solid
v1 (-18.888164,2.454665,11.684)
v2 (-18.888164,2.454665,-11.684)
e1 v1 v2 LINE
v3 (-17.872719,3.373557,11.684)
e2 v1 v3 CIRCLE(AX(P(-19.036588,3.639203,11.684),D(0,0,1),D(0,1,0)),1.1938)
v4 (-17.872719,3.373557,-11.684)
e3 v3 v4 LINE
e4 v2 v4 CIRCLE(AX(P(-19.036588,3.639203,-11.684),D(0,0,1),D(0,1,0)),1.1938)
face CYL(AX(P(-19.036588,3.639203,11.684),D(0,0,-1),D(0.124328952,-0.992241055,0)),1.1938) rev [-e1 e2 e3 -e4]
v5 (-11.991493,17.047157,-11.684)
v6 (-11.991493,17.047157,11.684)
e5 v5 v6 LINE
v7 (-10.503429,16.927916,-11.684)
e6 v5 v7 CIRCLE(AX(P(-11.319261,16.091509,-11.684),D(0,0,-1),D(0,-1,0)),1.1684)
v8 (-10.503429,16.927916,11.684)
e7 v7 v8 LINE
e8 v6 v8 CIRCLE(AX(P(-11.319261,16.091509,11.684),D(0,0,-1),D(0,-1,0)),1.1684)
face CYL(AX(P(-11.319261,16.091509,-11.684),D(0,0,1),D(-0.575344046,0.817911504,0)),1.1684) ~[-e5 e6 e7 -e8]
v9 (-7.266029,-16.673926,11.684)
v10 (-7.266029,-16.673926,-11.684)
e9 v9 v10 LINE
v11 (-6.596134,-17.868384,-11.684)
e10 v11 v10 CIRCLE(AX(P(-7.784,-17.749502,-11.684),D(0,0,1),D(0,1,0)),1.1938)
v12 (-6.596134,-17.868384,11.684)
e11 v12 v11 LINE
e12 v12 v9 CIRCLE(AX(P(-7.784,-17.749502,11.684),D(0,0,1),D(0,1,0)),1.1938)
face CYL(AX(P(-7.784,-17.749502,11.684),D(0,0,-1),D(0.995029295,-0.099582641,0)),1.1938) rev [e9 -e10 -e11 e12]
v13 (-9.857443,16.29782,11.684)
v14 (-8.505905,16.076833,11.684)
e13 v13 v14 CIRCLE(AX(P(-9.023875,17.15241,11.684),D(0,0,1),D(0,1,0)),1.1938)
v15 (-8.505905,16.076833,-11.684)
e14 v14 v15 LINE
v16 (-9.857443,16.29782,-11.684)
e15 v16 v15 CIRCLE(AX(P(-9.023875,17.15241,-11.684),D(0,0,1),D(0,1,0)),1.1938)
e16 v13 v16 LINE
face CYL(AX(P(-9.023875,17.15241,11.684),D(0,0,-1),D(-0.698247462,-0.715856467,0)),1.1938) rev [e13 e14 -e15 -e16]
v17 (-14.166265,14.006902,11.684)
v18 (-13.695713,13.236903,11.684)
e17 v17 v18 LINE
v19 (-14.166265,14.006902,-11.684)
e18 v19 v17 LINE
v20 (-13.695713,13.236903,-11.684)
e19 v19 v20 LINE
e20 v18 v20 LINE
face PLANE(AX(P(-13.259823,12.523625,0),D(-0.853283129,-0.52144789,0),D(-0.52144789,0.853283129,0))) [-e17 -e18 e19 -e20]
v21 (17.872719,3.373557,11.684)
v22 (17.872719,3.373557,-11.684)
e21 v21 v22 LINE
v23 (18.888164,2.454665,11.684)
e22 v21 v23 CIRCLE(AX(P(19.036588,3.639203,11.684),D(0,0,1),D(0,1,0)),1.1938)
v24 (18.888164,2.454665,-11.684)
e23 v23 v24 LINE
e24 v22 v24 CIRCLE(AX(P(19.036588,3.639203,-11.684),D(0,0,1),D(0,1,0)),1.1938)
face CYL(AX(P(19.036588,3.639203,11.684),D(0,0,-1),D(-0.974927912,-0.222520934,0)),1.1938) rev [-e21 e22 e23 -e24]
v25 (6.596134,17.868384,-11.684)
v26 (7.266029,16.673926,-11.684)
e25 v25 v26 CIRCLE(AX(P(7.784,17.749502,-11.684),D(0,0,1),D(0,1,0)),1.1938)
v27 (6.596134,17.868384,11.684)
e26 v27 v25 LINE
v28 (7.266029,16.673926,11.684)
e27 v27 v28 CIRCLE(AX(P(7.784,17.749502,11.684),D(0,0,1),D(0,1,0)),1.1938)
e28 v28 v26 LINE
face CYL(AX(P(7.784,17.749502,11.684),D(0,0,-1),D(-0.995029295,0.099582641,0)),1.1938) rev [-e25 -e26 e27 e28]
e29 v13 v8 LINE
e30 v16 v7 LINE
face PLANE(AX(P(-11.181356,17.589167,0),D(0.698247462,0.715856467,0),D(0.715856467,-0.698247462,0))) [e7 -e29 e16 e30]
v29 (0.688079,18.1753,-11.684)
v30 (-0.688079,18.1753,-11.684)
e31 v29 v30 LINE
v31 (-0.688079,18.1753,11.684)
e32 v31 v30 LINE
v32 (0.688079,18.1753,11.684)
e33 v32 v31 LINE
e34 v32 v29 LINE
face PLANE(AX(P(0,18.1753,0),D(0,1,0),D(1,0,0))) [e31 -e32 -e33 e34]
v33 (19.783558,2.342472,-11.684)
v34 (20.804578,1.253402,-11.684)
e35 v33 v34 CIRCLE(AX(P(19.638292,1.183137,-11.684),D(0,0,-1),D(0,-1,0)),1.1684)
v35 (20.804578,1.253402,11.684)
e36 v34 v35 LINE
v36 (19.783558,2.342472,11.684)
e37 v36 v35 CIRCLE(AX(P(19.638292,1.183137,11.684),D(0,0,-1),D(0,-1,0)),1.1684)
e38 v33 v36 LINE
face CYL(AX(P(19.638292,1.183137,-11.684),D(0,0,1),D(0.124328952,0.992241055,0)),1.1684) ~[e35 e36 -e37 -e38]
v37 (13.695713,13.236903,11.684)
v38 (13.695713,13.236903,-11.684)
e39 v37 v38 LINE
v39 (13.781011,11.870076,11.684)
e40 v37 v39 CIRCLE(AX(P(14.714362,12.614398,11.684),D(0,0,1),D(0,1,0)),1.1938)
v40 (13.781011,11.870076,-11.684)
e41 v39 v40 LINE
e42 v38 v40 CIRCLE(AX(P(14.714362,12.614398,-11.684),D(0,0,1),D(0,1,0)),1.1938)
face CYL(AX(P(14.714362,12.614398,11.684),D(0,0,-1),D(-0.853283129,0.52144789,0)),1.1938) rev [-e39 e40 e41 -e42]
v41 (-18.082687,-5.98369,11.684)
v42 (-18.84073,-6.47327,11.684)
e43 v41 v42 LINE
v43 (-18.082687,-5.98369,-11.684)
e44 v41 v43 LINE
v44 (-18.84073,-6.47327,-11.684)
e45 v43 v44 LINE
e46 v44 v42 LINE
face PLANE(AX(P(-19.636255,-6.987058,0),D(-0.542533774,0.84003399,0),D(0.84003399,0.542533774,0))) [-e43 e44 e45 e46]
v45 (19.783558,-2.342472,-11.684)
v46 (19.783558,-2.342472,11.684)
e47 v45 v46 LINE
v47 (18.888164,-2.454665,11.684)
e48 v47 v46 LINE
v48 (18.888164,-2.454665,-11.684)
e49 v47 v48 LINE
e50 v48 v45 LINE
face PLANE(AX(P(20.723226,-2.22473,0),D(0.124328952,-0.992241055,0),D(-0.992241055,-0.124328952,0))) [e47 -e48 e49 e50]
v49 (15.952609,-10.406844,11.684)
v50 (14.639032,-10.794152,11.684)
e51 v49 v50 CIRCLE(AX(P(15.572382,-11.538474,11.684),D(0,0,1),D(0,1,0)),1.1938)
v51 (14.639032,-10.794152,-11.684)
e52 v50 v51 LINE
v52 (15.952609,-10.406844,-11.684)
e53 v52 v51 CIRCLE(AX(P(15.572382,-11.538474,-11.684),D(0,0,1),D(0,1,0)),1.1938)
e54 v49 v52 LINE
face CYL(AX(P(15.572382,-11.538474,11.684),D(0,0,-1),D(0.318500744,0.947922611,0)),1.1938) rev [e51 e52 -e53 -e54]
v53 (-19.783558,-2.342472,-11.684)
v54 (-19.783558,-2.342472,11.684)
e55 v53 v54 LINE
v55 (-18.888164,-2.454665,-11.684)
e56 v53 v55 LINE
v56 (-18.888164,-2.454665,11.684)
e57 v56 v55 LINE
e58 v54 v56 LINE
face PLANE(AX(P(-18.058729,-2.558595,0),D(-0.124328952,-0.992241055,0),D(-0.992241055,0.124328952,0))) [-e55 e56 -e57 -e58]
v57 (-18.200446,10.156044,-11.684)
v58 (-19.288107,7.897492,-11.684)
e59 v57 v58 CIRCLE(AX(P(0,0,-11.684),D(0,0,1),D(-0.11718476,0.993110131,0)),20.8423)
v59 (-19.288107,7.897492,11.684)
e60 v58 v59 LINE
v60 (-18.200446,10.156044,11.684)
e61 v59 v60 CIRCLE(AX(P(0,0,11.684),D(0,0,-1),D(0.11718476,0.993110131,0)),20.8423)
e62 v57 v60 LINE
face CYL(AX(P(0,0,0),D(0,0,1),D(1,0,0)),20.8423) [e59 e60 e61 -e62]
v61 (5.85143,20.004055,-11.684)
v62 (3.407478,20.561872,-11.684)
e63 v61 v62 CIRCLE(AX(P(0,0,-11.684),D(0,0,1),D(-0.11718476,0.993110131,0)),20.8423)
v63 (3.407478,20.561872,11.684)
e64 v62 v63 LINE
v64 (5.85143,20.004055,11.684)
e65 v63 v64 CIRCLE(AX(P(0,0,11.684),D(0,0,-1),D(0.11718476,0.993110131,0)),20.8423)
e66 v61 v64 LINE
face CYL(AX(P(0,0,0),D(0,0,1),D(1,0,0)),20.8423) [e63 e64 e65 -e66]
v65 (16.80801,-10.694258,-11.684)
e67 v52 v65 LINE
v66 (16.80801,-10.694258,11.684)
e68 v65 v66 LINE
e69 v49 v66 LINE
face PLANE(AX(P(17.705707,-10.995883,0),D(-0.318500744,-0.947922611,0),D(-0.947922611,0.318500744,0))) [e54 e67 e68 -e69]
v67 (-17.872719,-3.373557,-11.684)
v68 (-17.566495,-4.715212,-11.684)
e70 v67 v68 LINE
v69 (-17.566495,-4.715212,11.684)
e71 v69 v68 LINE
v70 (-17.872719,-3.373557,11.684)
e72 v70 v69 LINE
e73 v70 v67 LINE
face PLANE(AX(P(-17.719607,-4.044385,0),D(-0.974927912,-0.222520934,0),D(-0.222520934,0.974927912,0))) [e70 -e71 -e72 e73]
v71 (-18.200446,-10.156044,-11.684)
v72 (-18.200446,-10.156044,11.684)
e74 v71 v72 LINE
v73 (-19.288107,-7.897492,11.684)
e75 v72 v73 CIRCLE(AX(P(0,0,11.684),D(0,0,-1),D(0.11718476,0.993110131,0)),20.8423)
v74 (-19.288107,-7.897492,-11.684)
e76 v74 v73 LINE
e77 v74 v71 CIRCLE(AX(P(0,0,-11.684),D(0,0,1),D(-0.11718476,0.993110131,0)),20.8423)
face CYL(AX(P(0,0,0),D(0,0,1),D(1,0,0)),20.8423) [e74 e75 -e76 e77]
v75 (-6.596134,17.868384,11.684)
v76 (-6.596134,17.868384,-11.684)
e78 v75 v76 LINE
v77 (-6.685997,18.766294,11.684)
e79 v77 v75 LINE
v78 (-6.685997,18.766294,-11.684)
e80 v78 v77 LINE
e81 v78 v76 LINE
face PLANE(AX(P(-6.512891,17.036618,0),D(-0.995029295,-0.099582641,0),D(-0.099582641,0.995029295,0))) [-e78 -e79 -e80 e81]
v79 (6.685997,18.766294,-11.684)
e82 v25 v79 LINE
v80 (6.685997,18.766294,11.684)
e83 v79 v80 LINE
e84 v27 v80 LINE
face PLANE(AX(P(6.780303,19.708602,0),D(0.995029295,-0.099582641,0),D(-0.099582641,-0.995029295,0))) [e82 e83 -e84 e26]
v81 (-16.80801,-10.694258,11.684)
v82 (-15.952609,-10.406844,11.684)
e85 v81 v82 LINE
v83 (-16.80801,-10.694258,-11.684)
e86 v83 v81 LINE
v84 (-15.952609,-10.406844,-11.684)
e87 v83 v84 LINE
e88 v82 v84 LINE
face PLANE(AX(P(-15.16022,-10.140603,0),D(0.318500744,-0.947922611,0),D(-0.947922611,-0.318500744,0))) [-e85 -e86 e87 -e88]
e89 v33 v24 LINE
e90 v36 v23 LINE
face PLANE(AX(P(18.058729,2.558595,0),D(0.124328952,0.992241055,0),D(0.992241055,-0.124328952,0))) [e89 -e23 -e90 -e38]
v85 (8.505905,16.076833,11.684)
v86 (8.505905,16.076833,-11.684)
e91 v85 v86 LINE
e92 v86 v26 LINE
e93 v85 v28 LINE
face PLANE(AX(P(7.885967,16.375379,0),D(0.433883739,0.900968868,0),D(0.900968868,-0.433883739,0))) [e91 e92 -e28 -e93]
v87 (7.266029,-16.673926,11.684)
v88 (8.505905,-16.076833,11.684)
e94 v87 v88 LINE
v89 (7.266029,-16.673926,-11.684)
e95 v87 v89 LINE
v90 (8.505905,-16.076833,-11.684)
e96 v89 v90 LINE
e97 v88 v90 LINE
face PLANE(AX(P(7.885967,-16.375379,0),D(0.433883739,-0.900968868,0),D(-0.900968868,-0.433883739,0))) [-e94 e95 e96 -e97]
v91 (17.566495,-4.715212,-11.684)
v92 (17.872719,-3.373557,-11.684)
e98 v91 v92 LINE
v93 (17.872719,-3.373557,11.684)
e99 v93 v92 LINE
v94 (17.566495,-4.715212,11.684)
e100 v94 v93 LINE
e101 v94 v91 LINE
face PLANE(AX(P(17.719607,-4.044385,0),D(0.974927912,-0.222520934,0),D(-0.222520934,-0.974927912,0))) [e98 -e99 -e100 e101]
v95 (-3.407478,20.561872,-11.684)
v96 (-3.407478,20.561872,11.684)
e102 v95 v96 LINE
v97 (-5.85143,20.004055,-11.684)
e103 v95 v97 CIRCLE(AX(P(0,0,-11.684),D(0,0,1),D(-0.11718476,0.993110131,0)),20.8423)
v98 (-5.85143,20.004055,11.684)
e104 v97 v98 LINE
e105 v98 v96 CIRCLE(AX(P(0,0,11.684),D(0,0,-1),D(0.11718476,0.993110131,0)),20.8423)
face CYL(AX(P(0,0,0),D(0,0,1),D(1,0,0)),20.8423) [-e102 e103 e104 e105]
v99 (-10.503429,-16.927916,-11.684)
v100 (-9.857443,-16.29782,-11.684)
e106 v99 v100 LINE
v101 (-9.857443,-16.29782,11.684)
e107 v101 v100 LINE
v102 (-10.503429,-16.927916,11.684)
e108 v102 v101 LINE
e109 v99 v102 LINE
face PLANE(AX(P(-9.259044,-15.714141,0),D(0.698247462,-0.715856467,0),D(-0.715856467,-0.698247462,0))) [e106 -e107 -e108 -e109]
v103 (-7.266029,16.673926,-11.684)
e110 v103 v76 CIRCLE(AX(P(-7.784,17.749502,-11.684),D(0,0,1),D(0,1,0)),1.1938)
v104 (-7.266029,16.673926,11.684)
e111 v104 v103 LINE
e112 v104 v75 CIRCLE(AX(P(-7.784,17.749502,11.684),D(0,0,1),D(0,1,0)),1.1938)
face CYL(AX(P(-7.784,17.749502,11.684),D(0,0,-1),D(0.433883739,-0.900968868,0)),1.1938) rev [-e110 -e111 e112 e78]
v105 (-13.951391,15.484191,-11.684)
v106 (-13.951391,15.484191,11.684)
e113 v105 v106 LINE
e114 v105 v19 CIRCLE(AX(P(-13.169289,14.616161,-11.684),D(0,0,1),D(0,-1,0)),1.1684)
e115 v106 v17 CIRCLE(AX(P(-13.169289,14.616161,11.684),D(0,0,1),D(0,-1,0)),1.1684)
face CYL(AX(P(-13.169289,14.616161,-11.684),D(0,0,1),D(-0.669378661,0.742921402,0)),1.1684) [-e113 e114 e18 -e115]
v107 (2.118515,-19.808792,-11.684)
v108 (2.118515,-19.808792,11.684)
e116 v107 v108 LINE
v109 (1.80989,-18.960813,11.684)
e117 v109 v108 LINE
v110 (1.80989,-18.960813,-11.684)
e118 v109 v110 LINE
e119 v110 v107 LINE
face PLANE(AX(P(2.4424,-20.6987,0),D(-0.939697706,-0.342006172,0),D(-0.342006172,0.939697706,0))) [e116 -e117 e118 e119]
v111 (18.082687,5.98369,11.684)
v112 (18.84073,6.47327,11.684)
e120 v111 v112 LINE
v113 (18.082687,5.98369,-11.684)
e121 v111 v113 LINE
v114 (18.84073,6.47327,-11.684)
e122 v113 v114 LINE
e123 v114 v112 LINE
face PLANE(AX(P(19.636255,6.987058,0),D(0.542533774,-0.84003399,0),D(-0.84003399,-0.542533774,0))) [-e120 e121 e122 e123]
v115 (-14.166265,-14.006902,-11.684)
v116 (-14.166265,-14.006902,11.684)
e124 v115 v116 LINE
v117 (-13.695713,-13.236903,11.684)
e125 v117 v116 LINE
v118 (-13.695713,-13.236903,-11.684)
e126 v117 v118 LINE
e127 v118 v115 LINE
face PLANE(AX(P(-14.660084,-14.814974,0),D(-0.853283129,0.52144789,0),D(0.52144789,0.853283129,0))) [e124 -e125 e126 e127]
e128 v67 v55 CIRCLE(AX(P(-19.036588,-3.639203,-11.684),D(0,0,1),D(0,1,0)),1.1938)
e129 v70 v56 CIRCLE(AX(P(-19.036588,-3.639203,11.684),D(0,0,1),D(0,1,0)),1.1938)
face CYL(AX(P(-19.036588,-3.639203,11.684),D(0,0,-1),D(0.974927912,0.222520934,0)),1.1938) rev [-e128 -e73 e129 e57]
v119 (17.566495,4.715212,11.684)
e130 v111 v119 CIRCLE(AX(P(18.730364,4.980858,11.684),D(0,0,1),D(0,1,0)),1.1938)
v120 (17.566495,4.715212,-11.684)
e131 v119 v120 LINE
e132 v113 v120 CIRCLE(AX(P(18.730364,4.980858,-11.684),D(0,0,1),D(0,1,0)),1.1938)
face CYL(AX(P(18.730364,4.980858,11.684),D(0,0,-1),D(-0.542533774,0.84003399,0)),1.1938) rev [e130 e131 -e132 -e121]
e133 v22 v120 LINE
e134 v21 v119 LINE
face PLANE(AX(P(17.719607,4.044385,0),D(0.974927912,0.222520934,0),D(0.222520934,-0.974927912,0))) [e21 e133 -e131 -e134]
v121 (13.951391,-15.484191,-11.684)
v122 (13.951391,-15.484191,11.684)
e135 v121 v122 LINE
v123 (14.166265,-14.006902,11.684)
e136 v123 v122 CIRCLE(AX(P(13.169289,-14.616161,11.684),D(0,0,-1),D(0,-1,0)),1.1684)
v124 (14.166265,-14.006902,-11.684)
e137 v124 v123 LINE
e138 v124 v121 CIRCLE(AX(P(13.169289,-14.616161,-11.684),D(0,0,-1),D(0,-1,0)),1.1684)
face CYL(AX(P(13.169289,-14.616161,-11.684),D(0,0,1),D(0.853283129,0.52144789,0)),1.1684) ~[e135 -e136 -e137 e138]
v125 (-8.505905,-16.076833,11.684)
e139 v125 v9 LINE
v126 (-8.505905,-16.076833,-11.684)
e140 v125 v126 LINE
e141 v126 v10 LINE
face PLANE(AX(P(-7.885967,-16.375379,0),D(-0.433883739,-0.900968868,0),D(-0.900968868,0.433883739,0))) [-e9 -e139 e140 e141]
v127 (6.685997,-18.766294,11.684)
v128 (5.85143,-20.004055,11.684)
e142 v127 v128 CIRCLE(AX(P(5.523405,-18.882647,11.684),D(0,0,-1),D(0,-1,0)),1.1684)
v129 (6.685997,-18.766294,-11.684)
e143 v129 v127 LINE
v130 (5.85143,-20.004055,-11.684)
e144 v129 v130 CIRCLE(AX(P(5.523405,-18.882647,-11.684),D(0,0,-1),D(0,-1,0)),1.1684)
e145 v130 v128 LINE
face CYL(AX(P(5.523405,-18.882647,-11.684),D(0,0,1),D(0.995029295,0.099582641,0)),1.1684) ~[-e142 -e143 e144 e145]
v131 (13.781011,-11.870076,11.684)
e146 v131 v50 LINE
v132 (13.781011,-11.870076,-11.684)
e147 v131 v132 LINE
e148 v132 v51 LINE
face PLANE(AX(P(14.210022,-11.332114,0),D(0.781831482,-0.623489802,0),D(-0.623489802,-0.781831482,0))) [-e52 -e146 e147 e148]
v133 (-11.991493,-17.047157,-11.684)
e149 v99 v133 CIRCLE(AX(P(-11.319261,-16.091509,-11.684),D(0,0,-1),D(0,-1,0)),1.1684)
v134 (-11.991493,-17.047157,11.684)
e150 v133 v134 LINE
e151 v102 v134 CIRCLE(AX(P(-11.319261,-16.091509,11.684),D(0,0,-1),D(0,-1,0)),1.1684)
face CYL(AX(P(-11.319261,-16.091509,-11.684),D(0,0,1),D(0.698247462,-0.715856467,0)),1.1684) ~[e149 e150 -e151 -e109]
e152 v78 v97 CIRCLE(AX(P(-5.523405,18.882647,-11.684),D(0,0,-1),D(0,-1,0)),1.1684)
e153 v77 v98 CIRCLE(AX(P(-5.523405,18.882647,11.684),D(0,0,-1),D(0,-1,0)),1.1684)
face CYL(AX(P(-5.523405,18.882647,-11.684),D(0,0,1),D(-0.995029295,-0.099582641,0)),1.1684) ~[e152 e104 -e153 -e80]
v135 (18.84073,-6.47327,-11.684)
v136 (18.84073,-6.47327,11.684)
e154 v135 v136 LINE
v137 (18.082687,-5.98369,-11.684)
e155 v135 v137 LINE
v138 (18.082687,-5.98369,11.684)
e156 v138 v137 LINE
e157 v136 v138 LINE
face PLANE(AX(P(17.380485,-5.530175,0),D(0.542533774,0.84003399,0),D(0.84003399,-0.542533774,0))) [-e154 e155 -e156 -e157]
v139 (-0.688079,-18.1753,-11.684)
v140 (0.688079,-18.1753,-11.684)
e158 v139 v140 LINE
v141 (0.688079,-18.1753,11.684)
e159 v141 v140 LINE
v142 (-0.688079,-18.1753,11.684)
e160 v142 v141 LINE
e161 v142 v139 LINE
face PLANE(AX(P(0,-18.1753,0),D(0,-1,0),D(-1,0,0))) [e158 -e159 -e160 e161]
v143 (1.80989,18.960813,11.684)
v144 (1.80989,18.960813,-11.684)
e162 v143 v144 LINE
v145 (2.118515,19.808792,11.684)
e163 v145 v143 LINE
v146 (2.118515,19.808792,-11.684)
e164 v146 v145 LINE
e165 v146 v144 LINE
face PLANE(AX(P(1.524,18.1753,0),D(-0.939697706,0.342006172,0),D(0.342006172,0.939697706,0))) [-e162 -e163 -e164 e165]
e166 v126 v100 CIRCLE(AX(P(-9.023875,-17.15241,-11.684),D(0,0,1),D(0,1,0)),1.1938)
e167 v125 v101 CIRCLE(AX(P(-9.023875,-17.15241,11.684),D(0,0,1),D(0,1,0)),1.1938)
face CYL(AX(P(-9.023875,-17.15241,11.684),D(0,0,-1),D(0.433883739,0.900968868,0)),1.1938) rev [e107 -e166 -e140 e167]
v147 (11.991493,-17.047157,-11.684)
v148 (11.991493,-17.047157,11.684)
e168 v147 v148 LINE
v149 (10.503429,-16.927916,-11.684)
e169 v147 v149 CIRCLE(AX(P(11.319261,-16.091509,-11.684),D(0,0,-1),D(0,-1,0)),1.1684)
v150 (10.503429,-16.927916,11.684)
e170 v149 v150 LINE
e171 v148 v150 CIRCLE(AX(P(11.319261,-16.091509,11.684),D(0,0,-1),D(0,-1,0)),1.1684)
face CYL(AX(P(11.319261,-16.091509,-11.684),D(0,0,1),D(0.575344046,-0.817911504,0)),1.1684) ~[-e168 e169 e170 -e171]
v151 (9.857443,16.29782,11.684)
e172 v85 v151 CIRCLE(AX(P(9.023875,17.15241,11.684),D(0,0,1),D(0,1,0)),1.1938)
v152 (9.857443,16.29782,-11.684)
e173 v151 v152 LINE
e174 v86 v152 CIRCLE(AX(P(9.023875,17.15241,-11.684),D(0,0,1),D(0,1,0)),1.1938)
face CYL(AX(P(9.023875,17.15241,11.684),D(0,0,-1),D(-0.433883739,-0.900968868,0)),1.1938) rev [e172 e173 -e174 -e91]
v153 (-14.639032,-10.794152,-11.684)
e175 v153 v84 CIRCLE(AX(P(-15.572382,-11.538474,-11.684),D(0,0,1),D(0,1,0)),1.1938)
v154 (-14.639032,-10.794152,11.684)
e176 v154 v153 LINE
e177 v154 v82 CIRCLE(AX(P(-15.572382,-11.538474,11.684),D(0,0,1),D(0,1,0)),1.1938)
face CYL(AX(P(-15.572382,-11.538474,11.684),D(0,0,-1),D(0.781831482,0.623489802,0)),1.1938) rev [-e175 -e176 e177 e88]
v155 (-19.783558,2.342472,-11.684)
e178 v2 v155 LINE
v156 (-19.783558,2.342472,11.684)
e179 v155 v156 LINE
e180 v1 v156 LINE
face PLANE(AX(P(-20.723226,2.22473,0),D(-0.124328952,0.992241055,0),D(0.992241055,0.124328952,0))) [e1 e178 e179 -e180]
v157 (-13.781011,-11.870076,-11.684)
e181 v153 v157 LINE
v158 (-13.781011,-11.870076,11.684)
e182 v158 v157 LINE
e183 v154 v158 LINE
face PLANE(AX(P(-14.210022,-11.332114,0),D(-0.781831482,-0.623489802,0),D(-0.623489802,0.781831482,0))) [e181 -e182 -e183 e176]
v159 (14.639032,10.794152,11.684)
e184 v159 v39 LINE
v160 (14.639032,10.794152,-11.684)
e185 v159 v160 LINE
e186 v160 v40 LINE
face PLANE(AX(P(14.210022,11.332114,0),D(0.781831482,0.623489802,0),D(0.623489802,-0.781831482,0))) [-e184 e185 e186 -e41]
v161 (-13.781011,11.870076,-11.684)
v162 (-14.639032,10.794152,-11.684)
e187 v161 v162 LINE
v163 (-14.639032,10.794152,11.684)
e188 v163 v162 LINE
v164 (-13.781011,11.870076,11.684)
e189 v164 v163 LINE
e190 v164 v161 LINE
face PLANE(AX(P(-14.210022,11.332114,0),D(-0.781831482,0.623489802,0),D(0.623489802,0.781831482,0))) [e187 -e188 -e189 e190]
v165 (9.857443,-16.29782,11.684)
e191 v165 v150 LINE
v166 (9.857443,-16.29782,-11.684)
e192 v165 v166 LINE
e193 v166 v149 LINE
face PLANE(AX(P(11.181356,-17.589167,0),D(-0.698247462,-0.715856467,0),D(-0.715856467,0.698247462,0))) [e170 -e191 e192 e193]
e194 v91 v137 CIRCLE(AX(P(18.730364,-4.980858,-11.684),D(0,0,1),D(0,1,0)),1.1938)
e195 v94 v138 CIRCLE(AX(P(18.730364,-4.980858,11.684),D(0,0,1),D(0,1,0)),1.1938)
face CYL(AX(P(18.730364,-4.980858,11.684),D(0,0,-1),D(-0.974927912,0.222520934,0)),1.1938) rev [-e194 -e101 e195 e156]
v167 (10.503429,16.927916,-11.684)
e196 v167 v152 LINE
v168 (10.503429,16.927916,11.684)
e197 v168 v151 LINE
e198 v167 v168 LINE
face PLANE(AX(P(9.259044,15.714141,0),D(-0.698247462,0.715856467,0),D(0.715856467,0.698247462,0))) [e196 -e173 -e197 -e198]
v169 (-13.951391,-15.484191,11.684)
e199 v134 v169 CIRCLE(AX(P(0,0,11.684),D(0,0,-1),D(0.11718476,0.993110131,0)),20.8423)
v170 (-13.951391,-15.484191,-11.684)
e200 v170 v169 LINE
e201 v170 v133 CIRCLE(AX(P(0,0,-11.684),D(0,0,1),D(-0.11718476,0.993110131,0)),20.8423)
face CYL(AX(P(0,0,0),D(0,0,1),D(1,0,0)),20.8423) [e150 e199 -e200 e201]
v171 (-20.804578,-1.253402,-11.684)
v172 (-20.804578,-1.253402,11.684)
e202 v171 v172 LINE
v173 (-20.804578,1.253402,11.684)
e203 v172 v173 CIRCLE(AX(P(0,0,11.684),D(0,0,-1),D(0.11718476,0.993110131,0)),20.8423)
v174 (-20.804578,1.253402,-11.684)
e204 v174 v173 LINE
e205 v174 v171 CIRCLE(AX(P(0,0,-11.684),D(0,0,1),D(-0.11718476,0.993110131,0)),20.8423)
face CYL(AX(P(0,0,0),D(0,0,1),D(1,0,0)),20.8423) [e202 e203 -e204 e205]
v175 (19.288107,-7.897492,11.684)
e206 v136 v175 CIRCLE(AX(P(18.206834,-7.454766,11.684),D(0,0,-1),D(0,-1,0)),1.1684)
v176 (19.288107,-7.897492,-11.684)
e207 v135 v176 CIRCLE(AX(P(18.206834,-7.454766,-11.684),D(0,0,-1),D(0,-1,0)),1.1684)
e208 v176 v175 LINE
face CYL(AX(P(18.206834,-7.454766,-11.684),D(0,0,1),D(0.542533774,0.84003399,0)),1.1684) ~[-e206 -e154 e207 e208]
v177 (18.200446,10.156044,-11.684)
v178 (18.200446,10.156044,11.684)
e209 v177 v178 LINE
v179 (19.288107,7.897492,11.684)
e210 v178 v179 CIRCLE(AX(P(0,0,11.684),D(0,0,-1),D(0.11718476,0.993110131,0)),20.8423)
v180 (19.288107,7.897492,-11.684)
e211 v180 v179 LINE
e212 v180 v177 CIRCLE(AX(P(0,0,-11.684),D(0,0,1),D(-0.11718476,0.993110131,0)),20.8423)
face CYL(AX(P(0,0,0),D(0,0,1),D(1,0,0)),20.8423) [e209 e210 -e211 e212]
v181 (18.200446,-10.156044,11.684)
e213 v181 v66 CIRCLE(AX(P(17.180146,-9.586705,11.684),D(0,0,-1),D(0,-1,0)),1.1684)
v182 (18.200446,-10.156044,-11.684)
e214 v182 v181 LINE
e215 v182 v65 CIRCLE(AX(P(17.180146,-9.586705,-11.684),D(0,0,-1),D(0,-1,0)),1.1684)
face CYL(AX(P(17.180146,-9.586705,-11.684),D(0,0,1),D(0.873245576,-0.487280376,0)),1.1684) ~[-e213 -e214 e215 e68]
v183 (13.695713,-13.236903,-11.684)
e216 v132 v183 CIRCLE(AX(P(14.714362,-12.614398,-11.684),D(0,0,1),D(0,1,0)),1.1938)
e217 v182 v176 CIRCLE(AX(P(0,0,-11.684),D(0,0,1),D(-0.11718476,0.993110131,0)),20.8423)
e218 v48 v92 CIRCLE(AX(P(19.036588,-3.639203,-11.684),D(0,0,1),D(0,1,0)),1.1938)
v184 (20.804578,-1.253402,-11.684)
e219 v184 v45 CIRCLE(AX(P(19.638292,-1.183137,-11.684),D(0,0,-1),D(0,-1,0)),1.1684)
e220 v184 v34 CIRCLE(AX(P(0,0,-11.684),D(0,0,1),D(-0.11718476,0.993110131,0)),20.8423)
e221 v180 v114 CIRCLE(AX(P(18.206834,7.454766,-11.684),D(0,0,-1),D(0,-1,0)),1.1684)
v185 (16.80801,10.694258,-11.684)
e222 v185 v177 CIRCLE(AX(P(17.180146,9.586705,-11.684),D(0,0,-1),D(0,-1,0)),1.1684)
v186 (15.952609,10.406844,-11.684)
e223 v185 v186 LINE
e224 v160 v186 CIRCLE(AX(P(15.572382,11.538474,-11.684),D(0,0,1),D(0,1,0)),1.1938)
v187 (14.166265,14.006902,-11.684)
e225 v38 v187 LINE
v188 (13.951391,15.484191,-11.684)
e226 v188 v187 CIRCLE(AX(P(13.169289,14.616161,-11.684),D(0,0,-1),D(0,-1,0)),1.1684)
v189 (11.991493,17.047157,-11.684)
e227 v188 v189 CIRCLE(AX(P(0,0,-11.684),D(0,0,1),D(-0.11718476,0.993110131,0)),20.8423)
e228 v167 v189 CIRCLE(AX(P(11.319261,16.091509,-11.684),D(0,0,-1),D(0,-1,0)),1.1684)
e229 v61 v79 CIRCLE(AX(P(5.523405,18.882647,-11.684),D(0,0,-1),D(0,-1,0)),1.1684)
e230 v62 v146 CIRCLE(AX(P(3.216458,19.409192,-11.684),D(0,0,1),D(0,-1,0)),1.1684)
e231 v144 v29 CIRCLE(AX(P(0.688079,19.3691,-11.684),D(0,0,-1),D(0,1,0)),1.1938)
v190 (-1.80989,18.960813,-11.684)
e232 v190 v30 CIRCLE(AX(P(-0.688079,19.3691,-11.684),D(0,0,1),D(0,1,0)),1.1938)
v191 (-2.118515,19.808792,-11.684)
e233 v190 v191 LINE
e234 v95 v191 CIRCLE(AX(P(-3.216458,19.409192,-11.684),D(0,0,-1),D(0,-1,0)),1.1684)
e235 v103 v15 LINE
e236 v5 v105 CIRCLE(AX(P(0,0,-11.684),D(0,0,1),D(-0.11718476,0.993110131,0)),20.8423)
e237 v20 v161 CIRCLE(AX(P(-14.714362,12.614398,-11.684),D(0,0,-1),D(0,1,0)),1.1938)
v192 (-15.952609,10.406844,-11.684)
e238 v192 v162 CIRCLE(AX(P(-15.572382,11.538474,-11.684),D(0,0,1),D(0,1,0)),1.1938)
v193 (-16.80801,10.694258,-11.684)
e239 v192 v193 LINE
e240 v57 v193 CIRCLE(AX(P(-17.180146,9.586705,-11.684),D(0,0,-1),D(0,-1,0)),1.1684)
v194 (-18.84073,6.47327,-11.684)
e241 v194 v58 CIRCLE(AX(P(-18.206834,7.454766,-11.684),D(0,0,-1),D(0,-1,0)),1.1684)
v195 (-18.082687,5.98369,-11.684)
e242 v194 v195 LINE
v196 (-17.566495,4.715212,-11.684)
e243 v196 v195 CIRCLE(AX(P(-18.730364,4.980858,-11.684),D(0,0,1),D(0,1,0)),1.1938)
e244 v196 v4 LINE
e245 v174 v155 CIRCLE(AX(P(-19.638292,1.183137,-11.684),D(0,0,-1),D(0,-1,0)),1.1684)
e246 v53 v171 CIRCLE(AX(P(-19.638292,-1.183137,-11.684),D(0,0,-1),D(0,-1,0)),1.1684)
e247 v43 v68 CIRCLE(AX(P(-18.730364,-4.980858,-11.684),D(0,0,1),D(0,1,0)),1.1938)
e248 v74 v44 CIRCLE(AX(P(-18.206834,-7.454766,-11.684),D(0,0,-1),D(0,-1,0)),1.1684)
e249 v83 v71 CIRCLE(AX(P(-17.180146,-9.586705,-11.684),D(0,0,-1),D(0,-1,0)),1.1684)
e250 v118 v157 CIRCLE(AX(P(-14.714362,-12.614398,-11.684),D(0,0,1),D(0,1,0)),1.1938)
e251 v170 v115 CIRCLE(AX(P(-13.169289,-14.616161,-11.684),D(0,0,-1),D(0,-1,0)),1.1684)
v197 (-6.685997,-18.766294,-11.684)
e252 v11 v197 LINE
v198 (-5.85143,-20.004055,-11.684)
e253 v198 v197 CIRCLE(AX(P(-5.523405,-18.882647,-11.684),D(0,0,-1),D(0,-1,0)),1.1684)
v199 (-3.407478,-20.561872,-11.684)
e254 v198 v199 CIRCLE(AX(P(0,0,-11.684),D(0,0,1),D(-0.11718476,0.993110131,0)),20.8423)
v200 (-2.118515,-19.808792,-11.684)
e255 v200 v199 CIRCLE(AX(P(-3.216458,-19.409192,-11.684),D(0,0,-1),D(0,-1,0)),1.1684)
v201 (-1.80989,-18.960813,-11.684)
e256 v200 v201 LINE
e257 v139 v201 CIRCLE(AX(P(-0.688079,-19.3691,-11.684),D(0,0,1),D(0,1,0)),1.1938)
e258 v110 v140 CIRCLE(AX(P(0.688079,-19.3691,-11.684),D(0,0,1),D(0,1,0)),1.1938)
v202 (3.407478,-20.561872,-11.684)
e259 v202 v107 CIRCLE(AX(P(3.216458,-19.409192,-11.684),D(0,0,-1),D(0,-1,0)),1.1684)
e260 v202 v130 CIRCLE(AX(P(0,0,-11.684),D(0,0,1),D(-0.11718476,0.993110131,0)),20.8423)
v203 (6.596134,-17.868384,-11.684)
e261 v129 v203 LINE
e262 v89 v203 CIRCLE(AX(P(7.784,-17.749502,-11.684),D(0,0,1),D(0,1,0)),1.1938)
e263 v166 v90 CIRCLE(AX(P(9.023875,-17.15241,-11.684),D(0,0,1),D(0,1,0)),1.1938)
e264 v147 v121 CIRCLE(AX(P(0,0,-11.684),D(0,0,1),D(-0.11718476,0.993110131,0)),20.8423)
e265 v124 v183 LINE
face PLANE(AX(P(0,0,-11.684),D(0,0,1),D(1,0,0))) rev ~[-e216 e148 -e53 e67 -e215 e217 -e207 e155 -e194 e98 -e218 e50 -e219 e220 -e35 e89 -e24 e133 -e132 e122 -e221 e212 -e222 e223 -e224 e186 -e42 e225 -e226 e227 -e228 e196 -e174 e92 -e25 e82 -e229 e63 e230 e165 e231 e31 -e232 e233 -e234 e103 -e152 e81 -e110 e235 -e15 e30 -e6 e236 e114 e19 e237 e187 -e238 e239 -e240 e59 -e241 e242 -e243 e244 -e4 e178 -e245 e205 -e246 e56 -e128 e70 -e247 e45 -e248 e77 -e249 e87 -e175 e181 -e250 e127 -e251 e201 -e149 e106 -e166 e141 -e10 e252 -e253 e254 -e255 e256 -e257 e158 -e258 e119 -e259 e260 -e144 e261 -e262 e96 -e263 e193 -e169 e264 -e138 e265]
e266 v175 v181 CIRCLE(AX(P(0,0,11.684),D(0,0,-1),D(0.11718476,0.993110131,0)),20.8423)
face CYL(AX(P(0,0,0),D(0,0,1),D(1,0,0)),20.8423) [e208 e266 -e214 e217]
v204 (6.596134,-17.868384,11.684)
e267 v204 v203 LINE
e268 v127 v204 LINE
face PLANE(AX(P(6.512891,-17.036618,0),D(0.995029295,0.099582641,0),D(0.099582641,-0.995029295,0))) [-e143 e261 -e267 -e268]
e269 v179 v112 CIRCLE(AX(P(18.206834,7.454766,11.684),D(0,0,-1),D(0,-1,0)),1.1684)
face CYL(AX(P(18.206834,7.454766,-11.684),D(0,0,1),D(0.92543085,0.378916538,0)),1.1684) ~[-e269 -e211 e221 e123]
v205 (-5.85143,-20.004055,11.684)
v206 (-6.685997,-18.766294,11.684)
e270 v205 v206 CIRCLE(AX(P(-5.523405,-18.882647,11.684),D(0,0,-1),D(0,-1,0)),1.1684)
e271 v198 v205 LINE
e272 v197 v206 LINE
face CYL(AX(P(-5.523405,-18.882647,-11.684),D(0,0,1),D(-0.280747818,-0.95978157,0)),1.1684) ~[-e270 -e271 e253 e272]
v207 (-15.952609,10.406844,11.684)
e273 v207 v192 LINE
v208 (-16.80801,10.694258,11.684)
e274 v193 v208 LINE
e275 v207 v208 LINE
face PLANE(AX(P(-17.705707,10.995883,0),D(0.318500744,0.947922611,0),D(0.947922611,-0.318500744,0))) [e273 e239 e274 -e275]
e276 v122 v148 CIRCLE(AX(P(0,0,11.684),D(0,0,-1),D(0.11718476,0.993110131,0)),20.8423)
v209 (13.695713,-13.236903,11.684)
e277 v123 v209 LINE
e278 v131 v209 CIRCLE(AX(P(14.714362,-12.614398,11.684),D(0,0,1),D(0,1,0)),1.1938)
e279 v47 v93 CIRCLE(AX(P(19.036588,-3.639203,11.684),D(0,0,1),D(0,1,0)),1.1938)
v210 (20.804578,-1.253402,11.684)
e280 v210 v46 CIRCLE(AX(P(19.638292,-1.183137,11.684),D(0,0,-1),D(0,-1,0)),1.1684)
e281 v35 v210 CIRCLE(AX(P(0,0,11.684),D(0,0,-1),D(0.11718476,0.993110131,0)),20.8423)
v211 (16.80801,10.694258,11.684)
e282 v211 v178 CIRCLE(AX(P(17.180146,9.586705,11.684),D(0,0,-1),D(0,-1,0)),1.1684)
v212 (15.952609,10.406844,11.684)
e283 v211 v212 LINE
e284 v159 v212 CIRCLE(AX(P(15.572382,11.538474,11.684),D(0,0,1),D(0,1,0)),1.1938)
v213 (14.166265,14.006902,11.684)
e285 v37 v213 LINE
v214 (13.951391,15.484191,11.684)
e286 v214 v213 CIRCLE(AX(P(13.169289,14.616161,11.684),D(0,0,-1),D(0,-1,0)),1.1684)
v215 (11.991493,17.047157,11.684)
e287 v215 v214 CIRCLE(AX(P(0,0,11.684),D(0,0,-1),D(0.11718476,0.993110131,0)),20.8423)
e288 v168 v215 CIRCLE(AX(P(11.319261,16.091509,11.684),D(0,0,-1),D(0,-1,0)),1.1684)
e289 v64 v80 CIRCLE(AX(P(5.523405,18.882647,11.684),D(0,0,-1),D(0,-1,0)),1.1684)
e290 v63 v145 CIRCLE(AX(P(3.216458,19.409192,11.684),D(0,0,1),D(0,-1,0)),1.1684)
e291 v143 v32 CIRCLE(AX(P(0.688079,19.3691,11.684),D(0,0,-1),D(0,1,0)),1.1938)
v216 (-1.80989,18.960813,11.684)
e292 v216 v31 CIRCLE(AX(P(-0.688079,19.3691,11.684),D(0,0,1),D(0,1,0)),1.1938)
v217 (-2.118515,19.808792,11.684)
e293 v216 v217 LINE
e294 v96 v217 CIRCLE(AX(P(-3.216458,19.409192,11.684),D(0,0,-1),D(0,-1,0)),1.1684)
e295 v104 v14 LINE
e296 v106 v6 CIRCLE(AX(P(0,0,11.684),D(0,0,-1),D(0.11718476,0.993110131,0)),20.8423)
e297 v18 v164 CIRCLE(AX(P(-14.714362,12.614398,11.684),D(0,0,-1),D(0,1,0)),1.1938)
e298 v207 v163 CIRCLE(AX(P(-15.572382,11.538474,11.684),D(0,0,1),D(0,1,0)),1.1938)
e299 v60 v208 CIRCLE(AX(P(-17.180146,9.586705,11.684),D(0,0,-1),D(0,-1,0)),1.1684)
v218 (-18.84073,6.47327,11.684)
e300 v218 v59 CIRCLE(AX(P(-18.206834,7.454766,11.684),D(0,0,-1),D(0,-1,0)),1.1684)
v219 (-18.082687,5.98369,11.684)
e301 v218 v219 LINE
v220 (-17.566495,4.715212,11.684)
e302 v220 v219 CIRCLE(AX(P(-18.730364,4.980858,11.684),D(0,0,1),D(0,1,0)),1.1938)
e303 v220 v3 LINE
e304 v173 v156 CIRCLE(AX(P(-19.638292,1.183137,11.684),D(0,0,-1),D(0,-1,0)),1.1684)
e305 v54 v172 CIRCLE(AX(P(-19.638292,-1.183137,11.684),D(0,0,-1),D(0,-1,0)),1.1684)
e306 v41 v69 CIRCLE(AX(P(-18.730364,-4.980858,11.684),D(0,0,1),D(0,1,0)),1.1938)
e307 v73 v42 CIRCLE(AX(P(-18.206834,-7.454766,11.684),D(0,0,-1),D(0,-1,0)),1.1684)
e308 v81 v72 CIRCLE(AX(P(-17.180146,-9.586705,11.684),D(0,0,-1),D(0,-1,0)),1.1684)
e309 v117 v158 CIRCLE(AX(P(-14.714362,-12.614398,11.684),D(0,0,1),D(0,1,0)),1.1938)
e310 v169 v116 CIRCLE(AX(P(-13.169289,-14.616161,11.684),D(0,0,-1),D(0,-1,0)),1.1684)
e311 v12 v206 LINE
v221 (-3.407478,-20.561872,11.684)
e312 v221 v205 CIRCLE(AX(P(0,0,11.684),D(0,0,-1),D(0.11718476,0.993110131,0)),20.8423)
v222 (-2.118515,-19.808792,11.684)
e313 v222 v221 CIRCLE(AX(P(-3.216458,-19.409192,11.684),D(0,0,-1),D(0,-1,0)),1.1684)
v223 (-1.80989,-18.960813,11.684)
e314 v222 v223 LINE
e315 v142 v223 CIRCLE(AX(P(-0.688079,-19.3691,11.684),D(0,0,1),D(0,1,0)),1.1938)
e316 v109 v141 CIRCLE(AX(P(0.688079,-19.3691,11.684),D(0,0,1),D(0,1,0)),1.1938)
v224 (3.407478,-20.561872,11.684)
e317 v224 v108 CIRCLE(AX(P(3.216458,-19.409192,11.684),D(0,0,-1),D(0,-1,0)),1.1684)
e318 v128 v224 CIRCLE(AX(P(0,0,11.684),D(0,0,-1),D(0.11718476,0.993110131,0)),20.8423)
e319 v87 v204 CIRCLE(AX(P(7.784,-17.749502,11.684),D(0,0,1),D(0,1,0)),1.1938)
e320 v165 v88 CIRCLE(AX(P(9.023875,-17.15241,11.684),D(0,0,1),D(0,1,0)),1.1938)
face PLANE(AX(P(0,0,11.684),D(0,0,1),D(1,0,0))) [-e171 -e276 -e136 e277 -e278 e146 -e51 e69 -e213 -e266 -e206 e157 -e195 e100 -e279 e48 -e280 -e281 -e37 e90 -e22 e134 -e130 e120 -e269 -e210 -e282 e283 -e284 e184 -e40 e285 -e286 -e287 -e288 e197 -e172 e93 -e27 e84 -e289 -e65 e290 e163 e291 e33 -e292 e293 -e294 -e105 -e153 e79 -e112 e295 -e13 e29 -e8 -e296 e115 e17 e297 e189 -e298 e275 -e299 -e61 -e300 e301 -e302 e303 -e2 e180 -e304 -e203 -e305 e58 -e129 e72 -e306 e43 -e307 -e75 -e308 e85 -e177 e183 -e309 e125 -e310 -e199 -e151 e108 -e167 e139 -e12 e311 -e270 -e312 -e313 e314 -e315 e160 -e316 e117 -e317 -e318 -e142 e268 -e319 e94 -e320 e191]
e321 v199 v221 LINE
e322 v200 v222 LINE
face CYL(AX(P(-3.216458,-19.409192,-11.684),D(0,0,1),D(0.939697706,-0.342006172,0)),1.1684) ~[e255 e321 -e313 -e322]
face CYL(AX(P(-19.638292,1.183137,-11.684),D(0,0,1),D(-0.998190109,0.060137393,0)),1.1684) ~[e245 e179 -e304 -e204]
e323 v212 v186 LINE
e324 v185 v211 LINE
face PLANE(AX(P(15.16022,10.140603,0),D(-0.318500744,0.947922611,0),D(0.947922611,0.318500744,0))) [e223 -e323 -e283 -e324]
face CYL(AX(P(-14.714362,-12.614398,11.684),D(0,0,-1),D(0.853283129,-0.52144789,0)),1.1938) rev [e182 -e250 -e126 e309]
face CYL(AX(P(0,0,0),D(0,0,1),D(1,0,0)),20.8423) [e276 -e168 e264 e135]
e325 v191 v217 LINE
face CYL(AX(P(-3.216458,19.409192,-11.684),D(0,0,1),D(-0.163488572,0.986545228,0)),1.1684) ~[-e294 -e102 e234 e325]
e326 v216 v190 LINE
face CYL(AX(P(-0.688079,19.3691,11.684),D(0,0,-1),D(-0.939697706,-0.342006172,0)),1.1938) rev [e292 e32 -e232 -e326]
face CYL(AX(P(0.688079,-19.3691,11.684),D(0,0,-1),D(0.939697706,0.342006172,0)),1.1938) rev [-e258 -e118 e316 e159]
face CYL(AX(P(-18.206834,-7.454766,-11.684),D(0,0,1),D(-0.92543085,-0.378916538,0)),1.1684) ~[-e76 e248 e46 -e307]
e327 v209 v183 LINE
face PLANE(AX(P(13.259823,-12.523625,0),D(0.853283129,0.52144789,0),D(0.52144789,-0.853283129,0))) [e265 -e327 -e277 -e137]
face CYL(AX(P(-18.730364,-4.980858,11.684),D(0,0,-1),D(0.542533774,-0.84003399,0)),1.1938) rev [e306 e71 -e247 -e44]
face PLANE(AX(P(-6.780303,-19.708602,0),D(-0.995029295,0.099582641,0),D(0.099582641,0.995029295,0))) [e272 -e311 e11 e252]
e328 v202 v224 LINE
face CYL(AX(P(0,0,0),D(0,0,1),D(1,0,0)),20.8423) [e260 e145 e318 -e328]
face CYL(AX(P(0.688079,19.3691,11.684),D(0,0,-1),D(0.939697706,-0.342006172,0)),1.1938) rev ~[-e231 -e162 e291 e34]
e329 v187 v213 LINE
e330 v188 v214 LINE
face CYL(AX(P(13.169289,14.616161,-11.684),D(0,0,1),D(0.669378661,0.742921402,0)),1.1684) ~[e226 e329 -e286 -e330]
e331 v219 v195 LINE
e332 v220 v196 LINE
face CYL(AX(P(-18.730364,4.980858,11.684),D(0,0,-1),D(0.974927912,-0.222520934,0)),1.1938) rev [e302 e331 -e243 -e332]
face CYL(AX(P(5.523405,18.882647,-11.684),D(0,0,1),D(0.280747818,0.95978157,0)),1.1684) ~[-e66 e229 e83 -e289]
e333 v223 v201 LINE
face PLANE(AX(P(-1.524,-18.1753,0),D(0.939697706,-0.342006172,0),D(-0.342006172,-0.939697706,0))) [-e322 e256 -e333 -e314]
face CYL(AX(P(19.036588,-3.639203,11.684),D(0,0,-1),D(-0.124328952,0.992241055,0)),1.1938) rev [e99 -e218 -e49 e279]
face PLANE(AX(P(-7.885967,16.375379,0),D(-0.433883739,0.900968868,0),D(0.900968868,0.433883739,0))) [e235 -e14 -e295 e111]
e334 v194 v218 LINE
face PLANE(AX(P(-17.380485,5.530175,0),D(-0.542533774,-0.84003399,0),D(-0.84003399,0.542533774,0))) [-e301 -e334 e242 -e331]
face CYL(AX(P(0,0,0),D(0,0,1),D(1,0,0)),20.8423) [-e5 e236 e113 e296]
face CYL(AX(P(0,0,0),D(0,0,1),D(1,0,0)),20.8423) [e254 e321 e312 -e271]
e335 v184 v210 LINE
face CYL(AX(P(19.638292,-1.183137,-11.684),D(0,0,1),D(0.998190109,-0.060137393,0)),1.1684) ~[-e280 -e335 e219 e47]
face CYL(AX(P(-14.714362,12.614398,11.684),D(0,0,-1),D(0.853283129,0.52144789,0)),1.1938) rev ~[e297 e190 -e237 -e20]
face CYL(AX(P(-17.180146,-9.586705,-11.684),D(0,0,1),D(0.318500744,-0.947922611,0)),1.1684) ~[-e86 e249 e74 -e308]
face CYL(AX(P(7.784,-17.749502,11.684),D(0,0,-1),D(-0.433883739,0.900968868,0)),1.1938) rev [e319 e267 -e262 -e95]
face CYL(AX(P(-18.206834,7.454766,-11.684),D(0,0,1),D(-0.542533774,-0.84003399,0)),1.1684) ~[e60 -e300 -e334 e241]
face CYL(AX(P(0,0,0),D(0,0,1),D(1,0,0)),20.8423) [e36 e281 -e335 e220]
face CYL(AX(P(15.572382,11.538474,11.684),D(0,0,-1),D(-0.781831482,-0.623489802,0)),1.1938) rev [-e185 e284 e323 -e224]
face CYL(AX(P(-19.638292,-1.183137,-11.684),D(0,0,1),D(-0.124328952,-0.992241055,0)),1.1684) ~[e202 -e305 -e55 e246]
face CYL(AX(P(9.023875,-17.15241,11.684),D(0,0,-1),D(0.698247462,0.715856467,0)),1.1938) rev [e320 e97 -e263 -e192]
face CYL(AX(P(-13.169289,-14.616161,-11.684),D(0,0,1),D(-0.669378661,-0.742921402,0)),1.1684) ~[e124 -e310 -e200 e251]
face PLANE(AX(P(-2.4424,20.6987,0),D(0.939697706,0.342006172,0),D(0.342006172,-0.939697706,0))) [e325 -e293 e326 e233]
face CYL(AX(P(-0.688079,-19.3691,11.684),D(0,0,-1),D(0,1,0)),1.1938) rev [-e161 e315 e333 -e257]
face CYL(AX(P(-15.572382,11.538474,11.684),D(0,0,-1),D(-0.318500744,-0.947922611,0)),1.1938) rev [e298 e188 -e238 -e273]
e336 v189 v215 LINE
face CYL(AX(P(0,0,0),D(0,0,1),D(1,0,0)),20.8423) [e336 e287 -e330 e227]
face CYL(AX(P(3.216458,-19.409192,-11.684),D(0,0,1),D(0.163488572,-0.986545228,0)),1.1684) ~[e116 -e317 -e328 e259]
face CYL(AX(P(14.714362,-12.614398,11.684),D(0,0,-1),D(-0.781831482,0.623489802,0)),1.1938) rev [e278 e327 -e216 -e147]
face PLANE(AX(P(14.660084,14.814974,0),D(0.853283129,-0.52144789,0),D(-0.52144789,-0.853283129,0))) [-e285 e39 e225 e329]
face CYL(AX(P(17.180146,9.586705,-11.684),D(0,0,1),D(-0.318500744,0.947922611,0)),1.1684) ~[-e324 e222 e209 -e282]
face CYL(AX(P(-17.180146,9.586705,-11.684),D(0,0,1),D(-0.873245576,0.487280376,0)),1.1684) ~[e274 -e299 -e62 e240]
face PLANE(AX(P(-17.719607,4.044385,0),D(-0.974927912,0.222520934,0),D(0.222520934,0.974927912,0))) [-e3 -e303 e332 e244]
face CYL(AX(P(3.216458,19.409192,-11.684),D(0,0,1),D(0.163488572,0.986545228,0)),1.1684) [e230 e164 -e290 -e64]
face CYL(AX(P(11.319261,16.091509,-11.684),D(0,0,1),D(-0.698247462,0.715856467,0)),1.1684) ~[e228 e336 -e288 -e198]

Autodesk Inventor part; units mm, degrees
ref_plane "YZ Plane" through (0, 0, 0) normal (1, 0, 0) x (0, 1, 0)
ref_plane "XZ Plane" through (0, 0, 0) normal (0, 1, 0) x (-1, 0, 0)
ref_plane "XY Plane" through (0, 0, 0) normal (0, 0, 1) x (1, 0, 0)
sketch "Эскиз шкива" plane through (0, 0, 0) normal (0, 0, 1) x (1, 0, 0)
  circle A0 centre (0, 0) radius 21.2233 construction
  circle A1 centre (0, 0) radius 20.8423
  circle A2 centre (0, 0) radius 18.1753
  line L0 (-2.4424, 20.6987) -> (-1.524, 18.1753)
  line L1 (-1.524, 18.1753) -> (1.524, 18.1753)
  line L2 (1.524, 18.1753) -> (2.4424, 20.6987)
  line L3 (0, 0) -> (0, 20.8423) construction
  point P0 (0, 18.1753)
  dimension "d0" = 42.4466
  dimension "d1" = 0.381
  dimension "d2" = 2.667
  dimension "d3" = 40
  dimension "d4" = 3.048
extrude "Базовое тело" add sketch "Эскиз шкива" along normal mid plane 23.368 contours A2 | A1 L0 L1 L2 | L2 L1 L0 A1
extrude "Зуб" cut sketch "Эскиз шкива" along normal through all both and the other way through all contours L2 L1 L0 A1 picked at (0, 19.9427)
fillet "Fillet" radius 1.1938 2 edges at (1.524, 18.1753, 0) (-1.524, 18.1753, 0)
fillet "Fillet" radius 1.1684 4 edges at (-2.4424, 20.6987, 5.842) (-2.4424, 20.6987, -5.842) (2.4424, 20.6987, 5.842) (2.4424, 20.6987, -5.842)
pattern_circular "Зубья" count 14 over 360 about axis through (0, 0, -10) along (0, 0, 1) of "Зуб", "Fillet"
feature "Левый фланец" [suppressed]
feature "Правый фланец" [suppressed]
equation "\"d1\" = da_a"
equation "\"d2\" = da_hg"
equation "\"d3\" = 2 * da_fi"
equation "\"d4\" = da_bw"
equation "\"d5\" = da_bf"
equation "\"d7\" = da_bf"
equation "\"d9\" = da_rb"
equation "\"d10\" = da_rt"
equation "\"da_pb\" = 9.525"
equation "\"da_fi\" = 20deg"
equation "\"da_hg\" = 2.667"
equation "\"da_bw\" = 3.048"
equation "\"da_rb\" = 1.1938"
equation "\"da_rt\" = 1.1684"
equation "\"da_a\" = 0.381"
equation "\"da_bf\" = 23.368"
equation "\"da_wf\" = 1.27"
equation "\"da_hf\" = 1.651"
properties part number "Синхронный шкив2" material "Steel"
